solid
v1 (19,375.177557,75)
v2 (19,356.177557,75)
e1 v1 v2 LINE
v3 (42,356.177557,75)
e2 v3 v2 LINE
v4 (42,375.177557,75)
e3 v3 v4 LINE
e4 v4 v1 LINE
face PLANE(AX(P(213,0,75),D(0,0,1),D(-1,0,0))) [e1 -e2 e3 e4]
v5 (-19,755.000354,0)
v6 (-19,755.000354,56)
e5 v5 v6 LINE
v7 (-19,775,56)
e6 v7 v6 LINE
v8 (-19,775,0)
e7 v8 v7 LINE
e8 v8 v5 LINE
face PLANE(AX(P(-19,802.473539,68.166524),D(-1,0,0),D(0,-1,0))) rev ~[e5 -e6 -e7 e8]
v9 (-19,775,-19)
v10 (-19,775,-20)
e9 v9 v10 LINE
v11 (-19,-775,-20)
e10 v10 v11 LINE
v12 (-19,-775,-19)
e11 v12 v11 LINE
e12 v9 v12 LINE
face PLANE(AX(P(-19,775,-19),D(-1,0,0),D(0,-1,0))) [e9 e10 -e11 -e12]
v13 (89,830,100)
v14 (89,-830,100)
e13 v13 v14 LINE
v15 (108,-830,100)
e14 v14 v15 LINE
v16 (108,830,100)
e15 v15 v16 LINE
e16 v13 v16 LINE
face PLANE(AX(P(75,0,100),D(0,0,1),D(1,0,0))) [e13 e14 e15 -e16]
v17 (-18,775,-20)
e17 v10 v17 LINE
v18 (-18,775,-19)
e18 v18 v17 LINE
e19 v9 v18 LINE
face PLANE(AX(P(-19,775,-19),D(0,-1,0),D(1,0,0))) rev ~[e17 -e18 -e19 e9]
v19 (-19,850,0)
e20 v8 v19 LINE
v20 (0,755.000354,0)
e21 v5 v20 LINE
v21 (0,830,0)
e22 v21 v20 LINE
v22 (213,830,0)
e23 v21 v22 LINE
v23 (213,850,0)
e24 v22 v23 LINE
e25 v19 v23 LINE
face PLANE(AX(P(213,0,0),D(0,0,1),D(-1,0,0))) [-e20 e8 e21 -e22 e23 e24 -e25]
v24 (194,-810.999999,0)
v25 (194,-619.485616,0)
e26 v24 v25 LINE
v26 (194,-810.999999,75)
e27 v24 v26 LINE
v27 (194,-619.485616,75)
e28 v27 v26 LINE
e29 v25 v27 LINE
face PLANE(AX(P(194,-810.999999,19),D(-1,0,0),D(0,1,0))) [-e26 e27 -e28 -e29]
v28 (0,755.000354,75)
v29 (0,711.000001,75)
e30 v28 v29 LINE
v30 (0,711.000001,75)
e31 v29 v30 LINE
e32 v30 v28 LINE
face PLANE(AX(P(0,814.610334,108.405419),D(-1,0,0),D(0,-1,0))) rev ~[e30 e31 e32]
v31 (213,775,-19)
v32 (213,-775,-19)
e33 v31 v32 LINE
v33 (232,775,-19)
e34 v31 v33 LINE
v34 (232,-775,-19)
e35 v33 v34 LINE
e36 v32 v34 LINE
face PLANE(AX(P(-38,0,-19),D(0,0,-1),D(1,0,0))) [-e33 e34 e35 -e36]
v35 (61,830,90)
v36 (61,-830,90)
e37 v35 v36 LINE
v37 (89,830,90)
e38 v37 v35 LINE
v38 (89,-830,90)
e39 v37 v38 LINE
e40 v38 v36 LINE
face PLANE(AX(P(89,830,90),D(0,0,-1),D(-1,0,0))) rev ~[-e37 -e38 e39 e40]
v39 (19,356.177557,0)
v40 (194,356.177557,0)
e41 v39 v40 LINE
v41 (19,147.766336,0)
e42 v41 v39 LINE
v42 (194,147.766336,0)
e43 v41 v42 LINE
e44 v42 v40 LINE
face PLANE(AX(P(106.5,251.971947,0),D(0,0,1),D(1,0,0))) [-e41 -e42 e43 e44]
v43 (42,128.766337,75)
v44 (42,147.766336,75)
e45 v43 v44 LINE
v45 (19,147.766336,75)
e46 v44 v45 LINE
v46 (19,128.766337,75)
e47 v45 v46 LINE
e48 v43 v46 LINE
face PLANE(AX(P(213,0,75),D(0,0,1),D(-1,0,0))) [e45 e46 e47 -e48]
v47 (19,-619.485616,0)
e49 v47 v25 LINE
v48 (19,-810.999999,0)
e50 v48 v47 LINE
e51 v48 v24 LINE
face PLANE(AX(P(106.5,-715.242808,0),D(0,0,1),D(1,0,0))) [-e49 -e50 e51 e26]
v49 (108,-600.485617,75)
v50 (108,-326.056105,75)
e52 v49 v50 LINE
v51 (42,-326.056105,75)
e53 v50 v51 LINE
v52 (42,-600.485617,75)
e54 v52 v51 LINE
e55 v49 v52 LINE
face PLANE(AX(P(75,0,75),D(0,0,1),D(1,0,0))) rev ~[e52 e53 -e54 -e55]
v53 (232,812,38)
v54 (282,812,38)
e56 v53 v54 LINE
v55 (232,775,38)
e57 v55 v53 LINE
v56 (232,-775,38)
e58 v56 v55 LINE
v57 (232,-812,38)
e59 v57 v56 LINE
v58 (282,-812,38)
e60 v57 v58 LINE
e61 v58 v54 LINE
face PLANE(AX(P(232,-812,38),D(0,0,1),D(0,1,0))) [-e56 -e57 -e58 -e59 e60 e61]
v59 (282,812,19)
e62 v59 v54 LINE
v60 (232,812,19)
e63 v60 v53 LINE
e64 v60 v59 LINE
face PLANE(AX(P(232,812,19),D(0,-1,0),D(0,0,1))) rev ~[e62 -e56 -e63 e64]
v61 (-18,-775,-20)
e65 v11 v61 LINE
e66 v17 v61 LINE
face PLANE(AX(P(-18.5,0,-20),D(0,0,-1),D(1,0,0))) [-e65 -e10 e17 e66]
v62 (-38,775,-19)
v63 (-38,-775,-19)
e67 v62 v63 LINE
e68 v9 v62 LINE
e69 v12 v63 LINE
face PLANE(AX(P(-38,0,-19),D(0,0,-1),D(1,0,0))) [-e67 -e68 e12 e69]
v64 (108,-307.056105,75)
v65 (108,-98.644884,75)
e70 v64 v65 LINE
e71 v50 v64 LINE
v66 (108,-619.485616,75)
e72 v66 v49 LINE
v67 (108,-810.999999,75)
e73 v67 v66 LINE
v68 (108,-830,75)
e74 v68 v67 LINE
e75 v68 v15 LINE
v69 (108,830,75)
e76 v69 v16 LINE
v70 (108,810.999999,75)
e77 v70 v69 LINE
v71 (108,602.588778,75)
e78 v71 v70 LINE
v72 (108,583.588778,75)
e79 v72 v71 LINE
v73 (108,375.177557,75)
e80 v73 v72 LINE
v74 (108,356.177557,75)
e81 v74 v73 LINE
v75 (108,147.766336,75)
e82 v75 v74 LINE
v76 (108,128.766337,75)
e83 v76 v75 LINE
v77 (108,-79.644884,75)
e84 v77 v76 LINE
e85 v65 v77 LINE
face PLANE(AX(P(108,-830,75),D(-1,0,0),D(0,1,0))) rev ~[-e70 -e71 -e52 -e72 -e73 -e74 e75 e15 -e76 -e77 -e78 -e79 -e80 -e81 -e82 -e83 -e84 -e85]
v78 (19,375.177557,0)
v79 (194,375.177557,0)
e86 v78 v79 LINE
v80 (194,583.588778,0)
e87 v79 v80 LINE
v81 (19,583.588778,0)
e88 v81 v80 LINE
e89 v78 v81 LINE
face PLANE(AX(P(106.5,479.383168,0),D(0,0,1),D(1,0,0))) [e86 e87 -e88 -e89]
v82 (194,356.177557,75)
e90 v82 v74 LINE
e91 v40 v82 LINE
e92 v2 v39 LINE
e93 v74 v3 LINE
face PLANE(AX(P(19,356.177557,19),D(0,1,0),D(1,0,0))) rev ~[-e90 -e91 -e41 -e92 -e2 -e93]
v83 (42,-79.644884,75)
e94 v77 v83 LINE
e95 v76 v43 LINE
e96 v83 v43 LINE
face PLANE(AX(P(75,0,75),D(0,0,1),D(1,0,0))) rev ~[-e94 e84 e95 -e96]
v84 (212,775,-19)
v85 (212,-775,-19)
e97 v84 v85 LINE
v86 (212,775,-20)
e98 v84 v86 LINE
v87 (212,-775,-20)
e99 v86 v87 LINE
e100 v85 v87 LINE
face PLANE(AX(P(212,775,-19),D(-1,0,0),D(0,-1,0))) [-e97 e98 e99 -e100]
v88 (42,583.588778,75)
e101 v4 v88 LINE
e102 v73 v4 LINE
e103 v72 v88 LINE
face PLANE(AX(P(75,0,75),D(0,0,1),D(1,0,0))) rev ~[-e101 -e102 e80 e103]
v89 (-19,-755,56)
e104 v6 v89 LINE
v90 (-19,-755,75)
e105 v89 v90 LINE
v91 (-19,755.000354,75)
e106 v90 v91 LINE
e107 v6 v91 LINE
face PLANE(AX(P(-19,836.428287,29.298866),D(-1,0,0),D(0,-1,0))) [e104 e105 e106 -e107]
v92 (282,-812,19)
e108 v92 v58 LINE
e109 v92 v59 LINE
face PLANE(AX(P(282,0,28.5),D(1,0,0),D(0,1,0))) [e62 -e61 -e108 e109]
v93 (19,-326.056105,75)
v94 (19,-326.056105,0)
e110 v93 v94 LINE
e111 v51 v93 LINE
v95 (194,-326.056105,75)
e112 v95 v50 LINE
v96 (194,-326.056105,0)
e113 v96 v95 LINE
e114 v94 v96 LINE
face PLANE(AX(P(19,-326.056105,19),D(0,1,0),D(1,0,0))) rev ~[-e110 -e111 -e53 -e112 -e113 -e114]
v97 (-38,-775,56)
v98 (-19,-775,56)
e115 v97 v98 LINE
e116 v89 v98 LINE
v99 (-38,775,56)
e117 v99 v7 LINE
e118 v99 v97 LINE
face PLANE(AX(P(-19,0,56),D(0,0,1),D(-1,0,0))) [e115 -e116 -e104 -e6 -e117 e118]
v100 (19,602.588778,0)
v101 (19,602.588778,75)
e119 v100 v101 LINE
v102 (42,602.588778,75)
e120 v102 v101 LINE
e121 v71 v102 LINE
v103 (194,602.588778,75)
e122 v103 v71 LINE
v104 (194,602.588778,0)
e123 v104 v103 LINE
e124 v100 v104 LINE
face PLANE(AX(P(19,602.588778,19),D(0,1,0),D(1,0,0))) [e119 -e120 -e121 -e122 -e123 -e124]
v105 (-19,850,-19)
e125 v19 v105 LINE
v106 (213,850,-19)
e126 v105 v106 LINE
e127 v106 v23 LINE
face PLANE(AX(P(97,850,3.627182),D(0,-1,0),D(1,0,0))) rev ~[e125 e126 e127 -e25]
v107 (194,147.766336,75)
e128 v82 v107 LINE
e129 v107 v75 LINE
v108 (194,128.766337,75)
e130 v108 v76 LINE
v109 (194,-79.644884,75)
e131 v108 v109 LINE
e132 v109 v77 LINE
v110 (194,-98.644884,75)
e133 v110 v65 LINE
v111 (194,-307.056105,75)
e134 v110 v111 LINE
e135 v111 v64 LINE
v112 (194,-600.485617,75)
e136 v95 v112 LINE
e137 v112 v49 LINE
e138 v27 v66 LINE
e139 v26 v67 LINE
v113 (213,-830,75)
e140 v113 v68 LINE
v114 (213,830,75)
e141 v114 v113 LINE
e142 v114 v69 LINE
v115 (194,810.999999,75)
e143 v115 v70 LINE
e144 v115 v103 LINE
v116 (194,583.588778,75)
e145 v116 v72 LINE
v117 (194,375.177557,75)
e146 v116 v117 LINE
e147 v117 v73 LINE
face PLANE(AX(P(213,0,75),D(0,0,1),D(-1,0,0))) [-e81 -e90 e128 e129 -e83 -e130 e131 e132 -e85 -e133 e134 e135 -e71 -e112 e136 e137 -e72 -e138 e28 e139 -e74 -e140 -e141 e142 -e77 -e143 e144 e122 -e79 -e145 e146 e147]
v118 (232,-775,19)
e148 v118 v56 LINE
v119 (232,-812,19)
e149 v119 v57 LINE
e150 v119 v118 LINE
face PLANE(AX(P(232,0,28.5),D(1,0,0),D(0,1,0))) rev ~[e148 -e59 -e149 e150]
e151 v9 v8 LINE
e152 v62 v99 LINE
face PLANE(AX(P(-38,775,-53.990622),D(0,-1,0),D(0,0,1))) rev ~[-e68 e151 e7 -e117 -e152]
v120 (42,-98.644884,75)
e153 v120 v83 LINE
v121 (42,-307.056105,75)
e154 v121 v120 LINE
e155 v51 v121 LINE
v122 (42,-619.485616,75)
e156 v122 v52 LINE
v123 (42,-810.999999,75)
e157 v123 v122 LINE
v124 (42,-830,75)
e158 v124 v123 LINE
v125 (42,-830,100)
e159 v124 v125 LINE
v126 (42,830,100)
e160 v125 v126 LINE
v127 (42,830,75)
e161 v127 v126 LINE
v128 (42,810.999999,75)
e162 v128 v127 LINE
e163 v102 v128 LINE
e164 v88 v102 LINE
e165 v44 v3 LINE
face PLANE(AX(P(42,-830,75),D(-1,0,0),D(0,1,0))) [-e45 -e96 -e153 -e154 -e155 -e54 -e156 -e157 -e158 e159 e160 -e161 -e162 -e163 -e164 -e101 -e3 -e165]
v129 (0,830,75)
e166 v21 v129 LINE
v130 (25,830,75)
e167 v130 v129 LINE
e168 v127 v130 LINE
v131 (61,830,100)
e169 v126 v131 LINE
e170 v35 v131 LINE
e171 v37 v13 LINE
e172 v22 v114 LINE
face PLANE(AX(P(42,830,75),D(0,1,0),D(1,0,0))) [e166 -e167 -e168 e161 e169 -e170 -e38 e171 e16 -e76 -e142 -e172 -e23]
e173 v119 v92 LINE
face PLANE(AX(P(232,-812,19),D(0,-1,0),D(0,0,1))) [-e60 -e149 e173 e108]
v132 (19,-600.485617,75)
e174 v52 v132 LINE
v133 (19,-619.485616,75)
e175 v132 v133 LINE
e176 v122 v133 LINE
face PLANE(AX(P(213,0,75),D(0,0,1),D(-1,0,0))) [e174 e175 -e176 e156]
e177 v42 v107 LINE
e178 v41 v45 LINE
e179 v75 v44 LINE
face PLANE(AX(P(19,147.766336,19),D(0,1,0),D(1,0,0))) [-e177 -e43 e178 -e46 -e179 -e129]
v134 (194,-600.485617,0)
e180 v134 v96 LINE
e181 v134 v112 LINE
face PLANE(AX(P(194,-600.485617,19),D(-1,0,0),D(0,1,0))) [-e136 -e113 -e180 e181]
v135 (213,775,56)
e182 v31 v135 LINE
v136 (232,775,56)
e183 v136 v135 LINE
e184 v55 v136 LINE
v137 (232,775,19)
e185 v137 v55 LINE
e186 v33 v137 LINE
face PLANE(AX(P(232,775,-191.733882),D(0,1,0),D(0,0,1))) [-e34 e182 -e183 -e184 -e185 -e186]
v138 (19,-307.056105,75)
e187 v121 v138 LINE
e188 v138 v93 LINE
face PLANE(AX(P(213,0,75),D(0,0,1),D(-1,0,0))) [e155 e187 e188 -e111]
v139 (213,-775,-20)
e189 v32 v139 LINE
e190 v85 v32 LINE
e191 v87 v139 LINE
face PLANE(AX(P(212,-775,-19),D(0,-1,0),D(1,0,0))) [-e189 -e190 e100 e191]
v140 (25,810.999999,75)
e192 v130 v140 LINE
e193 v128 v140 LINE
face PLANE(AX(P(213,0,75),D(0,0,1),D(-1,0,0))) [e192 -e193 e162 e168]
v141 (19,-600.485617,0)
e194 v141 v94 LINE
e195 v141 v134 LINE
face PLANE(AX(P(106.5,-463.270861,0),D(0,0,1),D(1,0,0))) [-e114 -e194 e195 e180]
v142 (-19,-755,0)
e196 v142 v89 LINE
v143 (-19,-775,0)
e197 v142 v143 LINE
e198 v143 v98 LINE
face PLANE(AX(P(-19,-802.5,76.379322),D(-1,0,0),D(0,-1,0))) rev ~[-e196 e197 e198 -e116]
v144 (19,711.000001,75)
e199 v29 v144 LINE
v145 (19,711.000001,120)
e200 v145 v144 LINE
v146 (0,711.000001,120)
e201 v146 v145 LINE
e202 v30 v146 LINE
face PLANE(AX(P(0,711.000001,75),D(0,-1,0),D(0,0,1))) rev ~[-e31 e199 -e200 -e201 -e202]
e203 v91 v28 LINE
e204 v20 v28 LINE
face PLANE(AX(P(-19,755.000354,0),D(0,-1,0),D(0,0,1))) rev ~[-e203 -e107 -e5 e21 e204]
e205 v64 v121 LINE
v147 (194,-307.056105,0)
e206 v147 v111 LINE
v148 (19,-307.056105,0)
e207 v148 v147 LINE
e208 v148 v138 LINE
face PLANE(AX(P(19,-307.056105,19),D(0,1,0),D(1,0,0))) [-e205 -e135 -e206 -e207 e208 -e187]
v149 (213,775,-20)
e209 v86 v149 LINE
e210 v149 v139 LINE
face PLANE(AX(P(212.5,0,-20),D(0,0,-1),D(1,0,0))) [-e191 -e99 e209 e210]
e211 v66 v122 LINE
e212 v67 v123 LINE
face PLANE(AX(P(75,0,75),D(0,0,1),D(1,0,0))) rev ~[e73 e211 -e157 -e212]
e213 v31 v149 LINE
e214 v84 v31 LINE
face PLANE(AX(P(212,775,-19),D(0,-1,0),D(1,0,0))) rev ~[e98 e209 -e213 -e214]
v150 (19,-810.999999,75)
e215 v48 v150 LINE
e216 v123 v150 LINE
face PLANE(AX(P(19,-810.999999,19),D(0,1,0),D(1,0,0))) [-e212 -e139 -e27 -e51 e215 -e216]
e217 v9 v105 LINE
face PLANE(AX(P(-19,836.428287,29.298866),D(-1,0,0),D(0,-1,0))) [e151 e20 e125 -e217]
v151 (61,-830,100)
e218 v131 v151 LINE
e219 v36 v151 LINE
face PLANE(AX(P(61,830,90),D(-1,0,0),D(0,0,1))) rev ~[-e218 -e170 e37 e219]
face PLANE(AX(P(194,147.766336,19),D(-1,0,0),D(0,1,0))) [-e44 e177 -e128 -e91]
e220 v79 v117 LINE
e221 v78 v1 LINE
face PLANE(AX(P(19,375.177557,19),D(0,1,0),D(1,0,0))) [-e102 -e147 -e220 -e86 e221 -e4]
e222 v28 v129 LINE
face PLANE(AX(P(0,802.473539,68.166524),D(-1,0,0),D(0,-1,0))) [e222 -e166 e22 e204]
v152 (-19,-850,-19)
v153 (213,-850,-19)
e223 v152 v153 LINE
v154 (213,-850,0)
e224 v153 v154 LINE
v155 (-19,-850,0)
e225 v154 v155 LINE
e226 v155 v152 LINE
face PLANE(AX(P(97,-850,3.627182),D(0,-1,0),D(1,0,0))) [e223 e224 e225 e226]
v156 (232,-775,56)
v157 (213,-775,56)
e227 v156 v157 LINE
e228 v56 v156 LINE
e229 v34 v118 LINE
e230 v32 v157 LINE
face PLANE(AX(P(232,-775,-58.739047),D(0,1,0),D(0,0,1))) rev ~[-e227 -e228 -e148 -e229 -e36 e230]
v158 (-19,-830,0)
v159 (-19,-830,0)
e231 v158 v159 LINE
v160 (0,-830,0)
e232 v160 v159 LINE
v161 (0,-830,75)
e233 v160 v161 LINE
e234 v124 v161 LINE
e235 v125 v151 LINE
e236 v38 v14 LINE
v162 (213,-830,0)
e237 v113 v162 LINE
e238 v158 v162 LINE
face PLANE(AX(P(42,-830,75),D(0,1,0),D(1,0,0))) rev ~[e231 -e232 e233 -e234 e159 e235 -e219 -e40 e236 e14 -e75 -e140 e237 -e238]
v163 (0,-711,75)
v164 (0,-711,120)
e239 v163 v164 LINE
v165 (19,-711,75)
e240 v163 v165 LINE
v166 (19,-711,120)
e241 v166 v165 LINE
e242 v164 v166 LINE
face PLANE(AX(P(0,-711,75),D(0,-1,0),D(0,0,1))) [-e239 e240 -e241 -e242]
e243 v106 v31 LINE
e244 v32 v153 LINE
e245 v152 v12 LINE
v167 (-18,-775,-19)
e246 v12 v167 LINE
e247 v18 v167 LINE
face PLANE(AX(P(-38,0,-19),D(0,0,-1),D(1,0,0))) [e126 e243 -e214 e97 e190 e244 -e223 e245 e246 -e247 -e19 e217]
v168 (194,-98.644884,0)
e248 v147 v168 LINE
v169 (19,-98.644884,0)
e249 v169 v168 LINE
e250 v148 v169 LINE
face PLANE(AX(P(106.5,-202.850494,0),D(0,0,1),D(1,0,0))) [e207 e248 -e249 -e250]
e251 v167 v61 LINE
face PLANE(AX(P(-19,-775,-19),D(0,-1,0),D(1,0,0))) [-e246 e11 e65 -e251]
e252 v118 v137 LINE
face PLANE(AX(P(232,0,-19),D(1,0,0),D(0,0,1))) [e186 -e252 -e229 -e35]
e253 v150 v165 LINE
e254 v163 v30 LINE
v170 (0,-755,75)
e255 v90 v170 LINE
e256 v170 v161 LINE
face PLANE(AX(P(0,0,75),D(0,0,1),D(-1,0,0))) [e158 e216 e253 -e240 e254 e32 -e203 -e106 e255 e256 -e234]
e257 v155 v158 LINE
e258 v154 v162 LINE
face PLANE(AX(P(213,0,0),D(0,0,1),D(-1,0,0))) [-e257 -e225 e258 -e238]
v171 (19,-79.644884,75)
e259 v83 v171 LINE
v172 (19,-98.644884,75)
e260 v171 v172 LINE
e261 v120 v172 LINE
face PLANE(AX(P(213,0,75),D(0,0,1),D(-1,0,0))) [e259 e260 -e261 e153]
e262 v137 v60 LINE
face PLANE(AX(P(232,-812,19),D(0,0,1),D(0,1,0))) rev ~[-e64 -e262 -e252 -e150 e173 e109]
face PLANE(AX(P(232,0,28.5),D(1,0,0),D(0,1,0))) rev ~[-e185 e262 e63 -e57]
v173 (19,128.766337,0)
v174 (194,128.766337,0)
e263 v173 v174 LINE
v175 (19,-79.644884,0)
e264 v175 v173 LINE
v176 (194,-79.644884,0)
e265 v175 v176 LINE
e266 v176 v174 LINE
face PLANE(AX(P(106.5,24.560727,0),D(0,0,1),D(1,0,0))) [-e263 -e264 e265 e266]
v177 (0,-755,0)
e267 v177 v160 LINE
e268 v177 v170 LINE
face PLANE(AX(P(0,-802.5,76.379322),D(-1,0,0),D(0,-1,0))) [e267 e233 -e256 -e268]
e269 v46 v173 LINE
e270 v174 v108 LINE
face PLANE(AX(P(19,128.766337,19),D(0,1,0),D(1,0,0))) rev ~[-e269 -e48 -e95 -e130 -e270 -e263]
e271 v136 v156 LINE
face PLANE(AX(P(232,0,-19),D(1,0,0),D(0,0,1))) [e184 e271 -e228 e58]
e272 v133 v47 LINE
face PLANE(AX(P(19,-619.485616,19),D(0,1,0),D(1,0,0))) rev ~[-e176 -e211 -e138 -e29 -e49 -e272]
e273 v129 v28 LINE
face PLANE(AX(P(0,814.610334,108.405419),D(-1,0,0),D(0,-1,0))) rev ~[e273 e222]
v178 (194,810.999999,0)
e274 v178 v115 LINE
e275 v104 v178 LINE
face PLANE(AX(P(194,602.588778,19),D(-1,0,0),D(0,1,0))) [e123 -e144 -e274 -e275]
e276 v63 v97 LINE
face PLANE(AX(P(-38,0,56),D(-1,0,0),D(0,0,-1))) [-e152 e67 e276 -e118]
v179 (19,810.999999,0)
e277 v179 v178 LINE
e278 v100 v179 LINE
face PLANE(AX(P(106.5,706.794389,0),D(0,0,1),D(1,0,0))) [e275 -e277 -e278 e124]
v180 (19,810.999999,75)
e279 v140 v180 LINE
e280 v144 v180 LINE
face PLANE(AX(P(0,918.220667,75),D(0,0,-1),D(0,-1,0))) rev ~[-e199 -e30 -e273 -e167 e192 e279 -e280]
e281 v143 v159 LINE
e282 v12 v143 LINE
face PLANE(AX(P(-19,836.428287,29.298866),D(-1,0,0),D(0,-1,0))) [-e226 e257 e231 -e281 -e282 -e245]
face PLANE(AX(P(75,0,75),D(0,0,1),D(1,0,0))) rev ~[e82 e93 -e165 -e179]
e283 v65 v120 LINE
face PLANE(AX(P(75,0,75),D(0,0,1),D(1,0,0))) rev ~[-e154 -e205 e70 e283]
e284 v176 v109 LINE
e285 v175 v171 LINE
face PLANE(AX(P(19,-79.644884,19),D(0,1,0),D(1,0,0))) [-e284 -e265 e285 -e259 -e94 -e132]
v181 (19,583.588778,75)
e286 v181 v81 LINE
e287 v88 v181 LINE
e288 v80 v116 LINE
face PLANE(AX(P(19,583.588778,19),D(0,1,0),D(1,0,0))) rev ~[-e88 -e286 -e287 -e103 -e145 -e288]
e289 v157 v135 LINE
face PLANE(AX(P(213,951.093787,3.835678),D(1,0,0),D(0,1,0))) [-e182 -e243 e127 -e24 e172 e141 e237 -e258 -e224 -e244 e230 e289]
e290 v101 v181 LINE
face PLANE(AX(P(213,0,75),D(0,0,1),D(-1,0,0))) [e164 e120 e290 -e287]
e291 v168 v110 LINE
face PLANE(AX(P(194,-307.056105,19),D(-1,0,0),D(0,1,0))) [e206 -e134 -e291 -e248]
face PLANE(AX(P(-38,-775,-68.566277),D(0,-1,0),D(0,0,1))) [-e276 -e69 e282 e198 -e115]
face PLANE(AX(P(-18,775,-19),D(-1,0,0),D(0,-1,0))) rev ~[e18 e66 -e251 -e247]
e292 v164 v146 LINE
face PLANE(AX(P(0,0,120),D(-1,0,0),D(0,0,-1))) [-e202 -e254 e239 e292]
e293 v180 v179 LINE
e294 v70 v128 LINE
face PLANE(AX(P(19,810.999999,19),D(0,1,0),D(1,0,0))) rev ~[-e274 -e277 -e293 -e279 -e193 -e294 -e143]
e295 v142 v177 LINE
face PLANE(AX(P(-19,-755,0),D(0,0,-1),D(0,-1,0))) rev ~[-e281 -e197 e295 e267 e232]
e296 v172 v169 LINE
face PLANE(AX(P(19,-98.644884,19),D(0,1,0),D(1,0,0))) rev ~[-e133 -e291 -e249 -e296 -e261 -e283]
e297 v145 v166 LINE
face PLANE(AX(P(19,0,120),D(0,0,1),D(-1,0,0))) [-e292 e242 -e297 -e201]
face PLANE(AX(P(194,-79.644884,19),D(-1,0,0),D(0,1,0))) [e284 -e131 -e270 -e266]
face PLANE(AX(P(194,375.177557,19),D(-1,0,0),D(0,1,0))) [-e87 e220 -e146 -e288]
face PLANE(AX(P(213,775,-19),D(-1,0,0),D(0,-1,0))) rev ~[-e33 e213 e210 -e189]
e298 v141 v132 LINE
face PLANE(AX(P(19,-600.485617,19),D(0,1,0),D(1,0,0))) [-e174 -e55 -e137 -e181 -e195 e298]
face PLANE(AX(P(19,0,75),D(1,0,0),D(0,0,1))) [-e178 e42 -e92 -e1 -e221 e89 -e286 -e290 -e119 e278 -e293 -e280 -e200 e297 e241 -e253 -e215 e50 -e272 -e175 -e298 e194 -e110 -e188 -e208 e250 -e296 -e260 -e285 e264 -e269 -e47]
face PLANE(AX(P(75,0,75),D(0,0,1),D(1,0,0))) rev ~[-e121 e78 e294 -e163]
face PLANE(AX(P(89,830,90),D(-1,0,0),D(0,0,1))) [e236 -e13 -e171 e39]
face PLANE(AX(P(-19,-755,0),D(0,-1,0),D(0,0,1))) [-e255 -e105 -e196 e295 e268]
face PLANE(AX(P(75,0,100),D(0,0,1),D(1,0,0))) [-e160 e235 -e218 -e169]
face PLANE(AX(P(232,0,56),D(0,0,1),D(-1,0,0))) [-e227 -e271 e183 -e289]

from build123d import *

# Parameters (mm, degrees)
F1_DEPTH  = 830
F3_W      = 175
F3_H      = 208.411221
F3_H_2    = 191.514383
F3_H_3    = 274.429512
F4_DEPTH  = 100
F5_W      = 66
F5_H      = 1660
F6_DEPTH  = 25
F8_DEPTH  = 850
F9_W      = 122.856574
F9_H      = 166.578976
F9_W_2    = 121.810914
F9_H_2    = 225.922749
F10_DEPTH = 19
F11_W     = 112.336252
F11_H     = 147.87124
F11_W_2   = 352.187574
F11_H_2   = 391.13912
F12_DEPTH = 19
F13_W     = 207.220667
F13_H     = 66.810839
F13_W_2   = 205.507578
F13_H_2   = 71.950136
F14_DEPTH = 25
F15_W     = 1624
F15_H     = 19
F16_DEPTH = 50
F17_W     = 95
F17_H     = 152.758643
F18_DEPTH = 19
F19_W     = 175
F19_H     = 208.411221
F19_H_2   = 274.429512
F19_H_3   = 191.514383
F20_DEPTH = 19
F21_W     = 1
F21_H     = 1550
F22_DEPTH = 1
F23_W     = 28
F23_H     = 10
F24_DEPTH = 2000


with BuildPart() as f1:
    # F0 (on Front) → F1 (new body, symmetric)
    with BuildSketch(Plane.XZ):
        Polygon((-19, 75), (-19, 0), (213, 0), (213, 75), (19, 75), (19, 120), (0, 120), (0, 75), align=None)
    extrude(amount=F1_DEPTH, both=True)

    # F3 (on offset) → F4 (cut)
    with BuildSketch(Plane.XY.offset(19)):
        with Locations((106.5, 706.794389)):
            Rectangle(F3_W, F3_H)
        with Locations((106.5, 479.383168)):
            Rectangle(F3_W, F3_H)
        with Locations((106.5, 251.971947)):
            Rectangle(F3_W, F3_H)
        with Locations((106.5, 24.560727)):
            Rectangle(F3_W, F3_H)
        with Locations((106.5, -715.242808)):
            Rectangle(F3_W, F3_H_2)
        with Locations((106.5, -463.270861)):
            Rectangle(F3_W, F3_H_3)
        with Locations((106.5, -202.850494)):
            Rectangle(F3_W, F3_H)
    extrude(amount=F4_DEPTH, mode=Mode.SUBTRACT)

    # F5 (on face) → F6 (join)
    with BuildSketch(Plane.XY.offset(75)):
        with Locations((75, 0)):
            Rectangle(F5_W, F5_H)
    extrude(amount=F6_DEPTH)

    # F7 (on Front) → F8 (join, symmetric)
    with BuildSketch(Plane.XZ):
        Polygon((-19, 0), (-19, 56), (-38, 56), (-38, -19), (232, -19), (232, 56), (213, 56), (213, 0), align=None)
    extrude(amount=F8_DEPTH, both=True)

    # F9 (on face) → F10 (cut)
    with BuildSketch(Plane(origin=(-38, 0, 0), x_dir=(0, -1, 0), z_dir=(-1, 0, 0))):
        with Locations((-836.428287, 29.298866)):
            Rectangle(F9_W, F9_H)
        with Locations((835.905457, 44.395097)):
            Rectangle(F9_W_2, F9_H_2)
    extrude(amount=-F10_DEPTH, mode=Mode.SUBTRACT)

    # F11 (on face) → F12 (cut)
    with BuildSketch(Plane.YZ.offset(232)):
        with Locations((-831.168126, 15.196573)):
            Rectangle(F11_W, F11_H)
        with Locations((951.093787, 3.835678)):
            Rectangle(F11_W_2, F11_H_2)
    extrude(amount=-F12_DEPTH, mode=Mode.SUBTRACT)

    # F13 (on face) → F14 (cut)
    with BuildSketch(Plane(origin=(0, 0, 0), x_dir=(0, -1, 0), z_dir=(-1, 0, 0))):
        with Locations((-814.610334, 108.405419)):
            Rectangle(F13_W, F13_H)
        with Locations((813.753789, 110.975068)):
            Rectangle(F13_W_2, F13_H_2)
    extrude(amount=-F14_DEPTH, mode=Mode.SUBTRACT)

    # F15 (on face) → F16 (join)
    with BuildSketch(Plane.YZ.offset(232)):
        with Locations((0, 28.5)):
            Rectangle(F15_W, F15_H)
    extrude(amount=F16_DEPTH)

    # F17 (on face) → F18 (cut)
    with BuildSketch(Plane(origin=(-19, 0, 0), x_dir=(0, -1, 0), z_dir=(-1, 0, 0))):
        Polygon((-850, 136.20314), (-850, 0), (-755.000354, 0), (-755.000354, 136.462602), align=None)
        with Locations((802.5, 76.379322)):
            Rectangle(F17_W, F17_H)
    extrude(amount=-F18_DEPTH, mode=Mode.SUBTRACT)

    # F19 (on face) → F20 (cut)
    with BuildSketch(Plane.XY.offset(19)):
        with Locations((106.5, 706.794389)):
            Rectangle(F19_W, F19_H)
        with Locations((106.5, 479.383168)):
            Rectangle(F19_W, F19_H)
        with Locations((106.5, 251.971947)):
            Rectangle(F19_W, F19_H)
        with Locations((106.5, 24.560727)):
            Rectangle(F19_W, F19_H)
        with Locations((106.5, -202.850494)):
            Rectangle(F19_W, F19_H)
        with Locations((106.5, -463.270861)):
            Rectangle(F19_W, F19_H_2)
        with Locations((106.5, -715.242808)):
            Rectangle(F19_W, F19_H_3)
    extrude(amount=-F20_DEPTH, mode=Mode.SUBTRACT)

    # F21 (on face) → F22 (join)
    with BuildSketch(Plane(origin=(0, 0, -19), x_dir=(1, 0, 0), z_dir=(0, 0, -1))):
        with Locations((212.5, 0)):
            Rectangle(F21_W, F21_H)
        with Locations((-18.5, 0)):
            Rectangle(F21_W, F21_H)
    extrude(amount=F22_DEPTH)

    # F23 (on face) → F24 (cut)
    with BuildSketch(Plane(origin=(0, 830, 0), x_dir=(-1, 0, 0), z_dir=(0, 1, 0))):
        with Locations((-75, 95)):
            Rectangle(F23_W, F23_H)
    extrude(amount=-F24_DEPTH, mode=Mode.SUBTRACT)


solid = f1.part
